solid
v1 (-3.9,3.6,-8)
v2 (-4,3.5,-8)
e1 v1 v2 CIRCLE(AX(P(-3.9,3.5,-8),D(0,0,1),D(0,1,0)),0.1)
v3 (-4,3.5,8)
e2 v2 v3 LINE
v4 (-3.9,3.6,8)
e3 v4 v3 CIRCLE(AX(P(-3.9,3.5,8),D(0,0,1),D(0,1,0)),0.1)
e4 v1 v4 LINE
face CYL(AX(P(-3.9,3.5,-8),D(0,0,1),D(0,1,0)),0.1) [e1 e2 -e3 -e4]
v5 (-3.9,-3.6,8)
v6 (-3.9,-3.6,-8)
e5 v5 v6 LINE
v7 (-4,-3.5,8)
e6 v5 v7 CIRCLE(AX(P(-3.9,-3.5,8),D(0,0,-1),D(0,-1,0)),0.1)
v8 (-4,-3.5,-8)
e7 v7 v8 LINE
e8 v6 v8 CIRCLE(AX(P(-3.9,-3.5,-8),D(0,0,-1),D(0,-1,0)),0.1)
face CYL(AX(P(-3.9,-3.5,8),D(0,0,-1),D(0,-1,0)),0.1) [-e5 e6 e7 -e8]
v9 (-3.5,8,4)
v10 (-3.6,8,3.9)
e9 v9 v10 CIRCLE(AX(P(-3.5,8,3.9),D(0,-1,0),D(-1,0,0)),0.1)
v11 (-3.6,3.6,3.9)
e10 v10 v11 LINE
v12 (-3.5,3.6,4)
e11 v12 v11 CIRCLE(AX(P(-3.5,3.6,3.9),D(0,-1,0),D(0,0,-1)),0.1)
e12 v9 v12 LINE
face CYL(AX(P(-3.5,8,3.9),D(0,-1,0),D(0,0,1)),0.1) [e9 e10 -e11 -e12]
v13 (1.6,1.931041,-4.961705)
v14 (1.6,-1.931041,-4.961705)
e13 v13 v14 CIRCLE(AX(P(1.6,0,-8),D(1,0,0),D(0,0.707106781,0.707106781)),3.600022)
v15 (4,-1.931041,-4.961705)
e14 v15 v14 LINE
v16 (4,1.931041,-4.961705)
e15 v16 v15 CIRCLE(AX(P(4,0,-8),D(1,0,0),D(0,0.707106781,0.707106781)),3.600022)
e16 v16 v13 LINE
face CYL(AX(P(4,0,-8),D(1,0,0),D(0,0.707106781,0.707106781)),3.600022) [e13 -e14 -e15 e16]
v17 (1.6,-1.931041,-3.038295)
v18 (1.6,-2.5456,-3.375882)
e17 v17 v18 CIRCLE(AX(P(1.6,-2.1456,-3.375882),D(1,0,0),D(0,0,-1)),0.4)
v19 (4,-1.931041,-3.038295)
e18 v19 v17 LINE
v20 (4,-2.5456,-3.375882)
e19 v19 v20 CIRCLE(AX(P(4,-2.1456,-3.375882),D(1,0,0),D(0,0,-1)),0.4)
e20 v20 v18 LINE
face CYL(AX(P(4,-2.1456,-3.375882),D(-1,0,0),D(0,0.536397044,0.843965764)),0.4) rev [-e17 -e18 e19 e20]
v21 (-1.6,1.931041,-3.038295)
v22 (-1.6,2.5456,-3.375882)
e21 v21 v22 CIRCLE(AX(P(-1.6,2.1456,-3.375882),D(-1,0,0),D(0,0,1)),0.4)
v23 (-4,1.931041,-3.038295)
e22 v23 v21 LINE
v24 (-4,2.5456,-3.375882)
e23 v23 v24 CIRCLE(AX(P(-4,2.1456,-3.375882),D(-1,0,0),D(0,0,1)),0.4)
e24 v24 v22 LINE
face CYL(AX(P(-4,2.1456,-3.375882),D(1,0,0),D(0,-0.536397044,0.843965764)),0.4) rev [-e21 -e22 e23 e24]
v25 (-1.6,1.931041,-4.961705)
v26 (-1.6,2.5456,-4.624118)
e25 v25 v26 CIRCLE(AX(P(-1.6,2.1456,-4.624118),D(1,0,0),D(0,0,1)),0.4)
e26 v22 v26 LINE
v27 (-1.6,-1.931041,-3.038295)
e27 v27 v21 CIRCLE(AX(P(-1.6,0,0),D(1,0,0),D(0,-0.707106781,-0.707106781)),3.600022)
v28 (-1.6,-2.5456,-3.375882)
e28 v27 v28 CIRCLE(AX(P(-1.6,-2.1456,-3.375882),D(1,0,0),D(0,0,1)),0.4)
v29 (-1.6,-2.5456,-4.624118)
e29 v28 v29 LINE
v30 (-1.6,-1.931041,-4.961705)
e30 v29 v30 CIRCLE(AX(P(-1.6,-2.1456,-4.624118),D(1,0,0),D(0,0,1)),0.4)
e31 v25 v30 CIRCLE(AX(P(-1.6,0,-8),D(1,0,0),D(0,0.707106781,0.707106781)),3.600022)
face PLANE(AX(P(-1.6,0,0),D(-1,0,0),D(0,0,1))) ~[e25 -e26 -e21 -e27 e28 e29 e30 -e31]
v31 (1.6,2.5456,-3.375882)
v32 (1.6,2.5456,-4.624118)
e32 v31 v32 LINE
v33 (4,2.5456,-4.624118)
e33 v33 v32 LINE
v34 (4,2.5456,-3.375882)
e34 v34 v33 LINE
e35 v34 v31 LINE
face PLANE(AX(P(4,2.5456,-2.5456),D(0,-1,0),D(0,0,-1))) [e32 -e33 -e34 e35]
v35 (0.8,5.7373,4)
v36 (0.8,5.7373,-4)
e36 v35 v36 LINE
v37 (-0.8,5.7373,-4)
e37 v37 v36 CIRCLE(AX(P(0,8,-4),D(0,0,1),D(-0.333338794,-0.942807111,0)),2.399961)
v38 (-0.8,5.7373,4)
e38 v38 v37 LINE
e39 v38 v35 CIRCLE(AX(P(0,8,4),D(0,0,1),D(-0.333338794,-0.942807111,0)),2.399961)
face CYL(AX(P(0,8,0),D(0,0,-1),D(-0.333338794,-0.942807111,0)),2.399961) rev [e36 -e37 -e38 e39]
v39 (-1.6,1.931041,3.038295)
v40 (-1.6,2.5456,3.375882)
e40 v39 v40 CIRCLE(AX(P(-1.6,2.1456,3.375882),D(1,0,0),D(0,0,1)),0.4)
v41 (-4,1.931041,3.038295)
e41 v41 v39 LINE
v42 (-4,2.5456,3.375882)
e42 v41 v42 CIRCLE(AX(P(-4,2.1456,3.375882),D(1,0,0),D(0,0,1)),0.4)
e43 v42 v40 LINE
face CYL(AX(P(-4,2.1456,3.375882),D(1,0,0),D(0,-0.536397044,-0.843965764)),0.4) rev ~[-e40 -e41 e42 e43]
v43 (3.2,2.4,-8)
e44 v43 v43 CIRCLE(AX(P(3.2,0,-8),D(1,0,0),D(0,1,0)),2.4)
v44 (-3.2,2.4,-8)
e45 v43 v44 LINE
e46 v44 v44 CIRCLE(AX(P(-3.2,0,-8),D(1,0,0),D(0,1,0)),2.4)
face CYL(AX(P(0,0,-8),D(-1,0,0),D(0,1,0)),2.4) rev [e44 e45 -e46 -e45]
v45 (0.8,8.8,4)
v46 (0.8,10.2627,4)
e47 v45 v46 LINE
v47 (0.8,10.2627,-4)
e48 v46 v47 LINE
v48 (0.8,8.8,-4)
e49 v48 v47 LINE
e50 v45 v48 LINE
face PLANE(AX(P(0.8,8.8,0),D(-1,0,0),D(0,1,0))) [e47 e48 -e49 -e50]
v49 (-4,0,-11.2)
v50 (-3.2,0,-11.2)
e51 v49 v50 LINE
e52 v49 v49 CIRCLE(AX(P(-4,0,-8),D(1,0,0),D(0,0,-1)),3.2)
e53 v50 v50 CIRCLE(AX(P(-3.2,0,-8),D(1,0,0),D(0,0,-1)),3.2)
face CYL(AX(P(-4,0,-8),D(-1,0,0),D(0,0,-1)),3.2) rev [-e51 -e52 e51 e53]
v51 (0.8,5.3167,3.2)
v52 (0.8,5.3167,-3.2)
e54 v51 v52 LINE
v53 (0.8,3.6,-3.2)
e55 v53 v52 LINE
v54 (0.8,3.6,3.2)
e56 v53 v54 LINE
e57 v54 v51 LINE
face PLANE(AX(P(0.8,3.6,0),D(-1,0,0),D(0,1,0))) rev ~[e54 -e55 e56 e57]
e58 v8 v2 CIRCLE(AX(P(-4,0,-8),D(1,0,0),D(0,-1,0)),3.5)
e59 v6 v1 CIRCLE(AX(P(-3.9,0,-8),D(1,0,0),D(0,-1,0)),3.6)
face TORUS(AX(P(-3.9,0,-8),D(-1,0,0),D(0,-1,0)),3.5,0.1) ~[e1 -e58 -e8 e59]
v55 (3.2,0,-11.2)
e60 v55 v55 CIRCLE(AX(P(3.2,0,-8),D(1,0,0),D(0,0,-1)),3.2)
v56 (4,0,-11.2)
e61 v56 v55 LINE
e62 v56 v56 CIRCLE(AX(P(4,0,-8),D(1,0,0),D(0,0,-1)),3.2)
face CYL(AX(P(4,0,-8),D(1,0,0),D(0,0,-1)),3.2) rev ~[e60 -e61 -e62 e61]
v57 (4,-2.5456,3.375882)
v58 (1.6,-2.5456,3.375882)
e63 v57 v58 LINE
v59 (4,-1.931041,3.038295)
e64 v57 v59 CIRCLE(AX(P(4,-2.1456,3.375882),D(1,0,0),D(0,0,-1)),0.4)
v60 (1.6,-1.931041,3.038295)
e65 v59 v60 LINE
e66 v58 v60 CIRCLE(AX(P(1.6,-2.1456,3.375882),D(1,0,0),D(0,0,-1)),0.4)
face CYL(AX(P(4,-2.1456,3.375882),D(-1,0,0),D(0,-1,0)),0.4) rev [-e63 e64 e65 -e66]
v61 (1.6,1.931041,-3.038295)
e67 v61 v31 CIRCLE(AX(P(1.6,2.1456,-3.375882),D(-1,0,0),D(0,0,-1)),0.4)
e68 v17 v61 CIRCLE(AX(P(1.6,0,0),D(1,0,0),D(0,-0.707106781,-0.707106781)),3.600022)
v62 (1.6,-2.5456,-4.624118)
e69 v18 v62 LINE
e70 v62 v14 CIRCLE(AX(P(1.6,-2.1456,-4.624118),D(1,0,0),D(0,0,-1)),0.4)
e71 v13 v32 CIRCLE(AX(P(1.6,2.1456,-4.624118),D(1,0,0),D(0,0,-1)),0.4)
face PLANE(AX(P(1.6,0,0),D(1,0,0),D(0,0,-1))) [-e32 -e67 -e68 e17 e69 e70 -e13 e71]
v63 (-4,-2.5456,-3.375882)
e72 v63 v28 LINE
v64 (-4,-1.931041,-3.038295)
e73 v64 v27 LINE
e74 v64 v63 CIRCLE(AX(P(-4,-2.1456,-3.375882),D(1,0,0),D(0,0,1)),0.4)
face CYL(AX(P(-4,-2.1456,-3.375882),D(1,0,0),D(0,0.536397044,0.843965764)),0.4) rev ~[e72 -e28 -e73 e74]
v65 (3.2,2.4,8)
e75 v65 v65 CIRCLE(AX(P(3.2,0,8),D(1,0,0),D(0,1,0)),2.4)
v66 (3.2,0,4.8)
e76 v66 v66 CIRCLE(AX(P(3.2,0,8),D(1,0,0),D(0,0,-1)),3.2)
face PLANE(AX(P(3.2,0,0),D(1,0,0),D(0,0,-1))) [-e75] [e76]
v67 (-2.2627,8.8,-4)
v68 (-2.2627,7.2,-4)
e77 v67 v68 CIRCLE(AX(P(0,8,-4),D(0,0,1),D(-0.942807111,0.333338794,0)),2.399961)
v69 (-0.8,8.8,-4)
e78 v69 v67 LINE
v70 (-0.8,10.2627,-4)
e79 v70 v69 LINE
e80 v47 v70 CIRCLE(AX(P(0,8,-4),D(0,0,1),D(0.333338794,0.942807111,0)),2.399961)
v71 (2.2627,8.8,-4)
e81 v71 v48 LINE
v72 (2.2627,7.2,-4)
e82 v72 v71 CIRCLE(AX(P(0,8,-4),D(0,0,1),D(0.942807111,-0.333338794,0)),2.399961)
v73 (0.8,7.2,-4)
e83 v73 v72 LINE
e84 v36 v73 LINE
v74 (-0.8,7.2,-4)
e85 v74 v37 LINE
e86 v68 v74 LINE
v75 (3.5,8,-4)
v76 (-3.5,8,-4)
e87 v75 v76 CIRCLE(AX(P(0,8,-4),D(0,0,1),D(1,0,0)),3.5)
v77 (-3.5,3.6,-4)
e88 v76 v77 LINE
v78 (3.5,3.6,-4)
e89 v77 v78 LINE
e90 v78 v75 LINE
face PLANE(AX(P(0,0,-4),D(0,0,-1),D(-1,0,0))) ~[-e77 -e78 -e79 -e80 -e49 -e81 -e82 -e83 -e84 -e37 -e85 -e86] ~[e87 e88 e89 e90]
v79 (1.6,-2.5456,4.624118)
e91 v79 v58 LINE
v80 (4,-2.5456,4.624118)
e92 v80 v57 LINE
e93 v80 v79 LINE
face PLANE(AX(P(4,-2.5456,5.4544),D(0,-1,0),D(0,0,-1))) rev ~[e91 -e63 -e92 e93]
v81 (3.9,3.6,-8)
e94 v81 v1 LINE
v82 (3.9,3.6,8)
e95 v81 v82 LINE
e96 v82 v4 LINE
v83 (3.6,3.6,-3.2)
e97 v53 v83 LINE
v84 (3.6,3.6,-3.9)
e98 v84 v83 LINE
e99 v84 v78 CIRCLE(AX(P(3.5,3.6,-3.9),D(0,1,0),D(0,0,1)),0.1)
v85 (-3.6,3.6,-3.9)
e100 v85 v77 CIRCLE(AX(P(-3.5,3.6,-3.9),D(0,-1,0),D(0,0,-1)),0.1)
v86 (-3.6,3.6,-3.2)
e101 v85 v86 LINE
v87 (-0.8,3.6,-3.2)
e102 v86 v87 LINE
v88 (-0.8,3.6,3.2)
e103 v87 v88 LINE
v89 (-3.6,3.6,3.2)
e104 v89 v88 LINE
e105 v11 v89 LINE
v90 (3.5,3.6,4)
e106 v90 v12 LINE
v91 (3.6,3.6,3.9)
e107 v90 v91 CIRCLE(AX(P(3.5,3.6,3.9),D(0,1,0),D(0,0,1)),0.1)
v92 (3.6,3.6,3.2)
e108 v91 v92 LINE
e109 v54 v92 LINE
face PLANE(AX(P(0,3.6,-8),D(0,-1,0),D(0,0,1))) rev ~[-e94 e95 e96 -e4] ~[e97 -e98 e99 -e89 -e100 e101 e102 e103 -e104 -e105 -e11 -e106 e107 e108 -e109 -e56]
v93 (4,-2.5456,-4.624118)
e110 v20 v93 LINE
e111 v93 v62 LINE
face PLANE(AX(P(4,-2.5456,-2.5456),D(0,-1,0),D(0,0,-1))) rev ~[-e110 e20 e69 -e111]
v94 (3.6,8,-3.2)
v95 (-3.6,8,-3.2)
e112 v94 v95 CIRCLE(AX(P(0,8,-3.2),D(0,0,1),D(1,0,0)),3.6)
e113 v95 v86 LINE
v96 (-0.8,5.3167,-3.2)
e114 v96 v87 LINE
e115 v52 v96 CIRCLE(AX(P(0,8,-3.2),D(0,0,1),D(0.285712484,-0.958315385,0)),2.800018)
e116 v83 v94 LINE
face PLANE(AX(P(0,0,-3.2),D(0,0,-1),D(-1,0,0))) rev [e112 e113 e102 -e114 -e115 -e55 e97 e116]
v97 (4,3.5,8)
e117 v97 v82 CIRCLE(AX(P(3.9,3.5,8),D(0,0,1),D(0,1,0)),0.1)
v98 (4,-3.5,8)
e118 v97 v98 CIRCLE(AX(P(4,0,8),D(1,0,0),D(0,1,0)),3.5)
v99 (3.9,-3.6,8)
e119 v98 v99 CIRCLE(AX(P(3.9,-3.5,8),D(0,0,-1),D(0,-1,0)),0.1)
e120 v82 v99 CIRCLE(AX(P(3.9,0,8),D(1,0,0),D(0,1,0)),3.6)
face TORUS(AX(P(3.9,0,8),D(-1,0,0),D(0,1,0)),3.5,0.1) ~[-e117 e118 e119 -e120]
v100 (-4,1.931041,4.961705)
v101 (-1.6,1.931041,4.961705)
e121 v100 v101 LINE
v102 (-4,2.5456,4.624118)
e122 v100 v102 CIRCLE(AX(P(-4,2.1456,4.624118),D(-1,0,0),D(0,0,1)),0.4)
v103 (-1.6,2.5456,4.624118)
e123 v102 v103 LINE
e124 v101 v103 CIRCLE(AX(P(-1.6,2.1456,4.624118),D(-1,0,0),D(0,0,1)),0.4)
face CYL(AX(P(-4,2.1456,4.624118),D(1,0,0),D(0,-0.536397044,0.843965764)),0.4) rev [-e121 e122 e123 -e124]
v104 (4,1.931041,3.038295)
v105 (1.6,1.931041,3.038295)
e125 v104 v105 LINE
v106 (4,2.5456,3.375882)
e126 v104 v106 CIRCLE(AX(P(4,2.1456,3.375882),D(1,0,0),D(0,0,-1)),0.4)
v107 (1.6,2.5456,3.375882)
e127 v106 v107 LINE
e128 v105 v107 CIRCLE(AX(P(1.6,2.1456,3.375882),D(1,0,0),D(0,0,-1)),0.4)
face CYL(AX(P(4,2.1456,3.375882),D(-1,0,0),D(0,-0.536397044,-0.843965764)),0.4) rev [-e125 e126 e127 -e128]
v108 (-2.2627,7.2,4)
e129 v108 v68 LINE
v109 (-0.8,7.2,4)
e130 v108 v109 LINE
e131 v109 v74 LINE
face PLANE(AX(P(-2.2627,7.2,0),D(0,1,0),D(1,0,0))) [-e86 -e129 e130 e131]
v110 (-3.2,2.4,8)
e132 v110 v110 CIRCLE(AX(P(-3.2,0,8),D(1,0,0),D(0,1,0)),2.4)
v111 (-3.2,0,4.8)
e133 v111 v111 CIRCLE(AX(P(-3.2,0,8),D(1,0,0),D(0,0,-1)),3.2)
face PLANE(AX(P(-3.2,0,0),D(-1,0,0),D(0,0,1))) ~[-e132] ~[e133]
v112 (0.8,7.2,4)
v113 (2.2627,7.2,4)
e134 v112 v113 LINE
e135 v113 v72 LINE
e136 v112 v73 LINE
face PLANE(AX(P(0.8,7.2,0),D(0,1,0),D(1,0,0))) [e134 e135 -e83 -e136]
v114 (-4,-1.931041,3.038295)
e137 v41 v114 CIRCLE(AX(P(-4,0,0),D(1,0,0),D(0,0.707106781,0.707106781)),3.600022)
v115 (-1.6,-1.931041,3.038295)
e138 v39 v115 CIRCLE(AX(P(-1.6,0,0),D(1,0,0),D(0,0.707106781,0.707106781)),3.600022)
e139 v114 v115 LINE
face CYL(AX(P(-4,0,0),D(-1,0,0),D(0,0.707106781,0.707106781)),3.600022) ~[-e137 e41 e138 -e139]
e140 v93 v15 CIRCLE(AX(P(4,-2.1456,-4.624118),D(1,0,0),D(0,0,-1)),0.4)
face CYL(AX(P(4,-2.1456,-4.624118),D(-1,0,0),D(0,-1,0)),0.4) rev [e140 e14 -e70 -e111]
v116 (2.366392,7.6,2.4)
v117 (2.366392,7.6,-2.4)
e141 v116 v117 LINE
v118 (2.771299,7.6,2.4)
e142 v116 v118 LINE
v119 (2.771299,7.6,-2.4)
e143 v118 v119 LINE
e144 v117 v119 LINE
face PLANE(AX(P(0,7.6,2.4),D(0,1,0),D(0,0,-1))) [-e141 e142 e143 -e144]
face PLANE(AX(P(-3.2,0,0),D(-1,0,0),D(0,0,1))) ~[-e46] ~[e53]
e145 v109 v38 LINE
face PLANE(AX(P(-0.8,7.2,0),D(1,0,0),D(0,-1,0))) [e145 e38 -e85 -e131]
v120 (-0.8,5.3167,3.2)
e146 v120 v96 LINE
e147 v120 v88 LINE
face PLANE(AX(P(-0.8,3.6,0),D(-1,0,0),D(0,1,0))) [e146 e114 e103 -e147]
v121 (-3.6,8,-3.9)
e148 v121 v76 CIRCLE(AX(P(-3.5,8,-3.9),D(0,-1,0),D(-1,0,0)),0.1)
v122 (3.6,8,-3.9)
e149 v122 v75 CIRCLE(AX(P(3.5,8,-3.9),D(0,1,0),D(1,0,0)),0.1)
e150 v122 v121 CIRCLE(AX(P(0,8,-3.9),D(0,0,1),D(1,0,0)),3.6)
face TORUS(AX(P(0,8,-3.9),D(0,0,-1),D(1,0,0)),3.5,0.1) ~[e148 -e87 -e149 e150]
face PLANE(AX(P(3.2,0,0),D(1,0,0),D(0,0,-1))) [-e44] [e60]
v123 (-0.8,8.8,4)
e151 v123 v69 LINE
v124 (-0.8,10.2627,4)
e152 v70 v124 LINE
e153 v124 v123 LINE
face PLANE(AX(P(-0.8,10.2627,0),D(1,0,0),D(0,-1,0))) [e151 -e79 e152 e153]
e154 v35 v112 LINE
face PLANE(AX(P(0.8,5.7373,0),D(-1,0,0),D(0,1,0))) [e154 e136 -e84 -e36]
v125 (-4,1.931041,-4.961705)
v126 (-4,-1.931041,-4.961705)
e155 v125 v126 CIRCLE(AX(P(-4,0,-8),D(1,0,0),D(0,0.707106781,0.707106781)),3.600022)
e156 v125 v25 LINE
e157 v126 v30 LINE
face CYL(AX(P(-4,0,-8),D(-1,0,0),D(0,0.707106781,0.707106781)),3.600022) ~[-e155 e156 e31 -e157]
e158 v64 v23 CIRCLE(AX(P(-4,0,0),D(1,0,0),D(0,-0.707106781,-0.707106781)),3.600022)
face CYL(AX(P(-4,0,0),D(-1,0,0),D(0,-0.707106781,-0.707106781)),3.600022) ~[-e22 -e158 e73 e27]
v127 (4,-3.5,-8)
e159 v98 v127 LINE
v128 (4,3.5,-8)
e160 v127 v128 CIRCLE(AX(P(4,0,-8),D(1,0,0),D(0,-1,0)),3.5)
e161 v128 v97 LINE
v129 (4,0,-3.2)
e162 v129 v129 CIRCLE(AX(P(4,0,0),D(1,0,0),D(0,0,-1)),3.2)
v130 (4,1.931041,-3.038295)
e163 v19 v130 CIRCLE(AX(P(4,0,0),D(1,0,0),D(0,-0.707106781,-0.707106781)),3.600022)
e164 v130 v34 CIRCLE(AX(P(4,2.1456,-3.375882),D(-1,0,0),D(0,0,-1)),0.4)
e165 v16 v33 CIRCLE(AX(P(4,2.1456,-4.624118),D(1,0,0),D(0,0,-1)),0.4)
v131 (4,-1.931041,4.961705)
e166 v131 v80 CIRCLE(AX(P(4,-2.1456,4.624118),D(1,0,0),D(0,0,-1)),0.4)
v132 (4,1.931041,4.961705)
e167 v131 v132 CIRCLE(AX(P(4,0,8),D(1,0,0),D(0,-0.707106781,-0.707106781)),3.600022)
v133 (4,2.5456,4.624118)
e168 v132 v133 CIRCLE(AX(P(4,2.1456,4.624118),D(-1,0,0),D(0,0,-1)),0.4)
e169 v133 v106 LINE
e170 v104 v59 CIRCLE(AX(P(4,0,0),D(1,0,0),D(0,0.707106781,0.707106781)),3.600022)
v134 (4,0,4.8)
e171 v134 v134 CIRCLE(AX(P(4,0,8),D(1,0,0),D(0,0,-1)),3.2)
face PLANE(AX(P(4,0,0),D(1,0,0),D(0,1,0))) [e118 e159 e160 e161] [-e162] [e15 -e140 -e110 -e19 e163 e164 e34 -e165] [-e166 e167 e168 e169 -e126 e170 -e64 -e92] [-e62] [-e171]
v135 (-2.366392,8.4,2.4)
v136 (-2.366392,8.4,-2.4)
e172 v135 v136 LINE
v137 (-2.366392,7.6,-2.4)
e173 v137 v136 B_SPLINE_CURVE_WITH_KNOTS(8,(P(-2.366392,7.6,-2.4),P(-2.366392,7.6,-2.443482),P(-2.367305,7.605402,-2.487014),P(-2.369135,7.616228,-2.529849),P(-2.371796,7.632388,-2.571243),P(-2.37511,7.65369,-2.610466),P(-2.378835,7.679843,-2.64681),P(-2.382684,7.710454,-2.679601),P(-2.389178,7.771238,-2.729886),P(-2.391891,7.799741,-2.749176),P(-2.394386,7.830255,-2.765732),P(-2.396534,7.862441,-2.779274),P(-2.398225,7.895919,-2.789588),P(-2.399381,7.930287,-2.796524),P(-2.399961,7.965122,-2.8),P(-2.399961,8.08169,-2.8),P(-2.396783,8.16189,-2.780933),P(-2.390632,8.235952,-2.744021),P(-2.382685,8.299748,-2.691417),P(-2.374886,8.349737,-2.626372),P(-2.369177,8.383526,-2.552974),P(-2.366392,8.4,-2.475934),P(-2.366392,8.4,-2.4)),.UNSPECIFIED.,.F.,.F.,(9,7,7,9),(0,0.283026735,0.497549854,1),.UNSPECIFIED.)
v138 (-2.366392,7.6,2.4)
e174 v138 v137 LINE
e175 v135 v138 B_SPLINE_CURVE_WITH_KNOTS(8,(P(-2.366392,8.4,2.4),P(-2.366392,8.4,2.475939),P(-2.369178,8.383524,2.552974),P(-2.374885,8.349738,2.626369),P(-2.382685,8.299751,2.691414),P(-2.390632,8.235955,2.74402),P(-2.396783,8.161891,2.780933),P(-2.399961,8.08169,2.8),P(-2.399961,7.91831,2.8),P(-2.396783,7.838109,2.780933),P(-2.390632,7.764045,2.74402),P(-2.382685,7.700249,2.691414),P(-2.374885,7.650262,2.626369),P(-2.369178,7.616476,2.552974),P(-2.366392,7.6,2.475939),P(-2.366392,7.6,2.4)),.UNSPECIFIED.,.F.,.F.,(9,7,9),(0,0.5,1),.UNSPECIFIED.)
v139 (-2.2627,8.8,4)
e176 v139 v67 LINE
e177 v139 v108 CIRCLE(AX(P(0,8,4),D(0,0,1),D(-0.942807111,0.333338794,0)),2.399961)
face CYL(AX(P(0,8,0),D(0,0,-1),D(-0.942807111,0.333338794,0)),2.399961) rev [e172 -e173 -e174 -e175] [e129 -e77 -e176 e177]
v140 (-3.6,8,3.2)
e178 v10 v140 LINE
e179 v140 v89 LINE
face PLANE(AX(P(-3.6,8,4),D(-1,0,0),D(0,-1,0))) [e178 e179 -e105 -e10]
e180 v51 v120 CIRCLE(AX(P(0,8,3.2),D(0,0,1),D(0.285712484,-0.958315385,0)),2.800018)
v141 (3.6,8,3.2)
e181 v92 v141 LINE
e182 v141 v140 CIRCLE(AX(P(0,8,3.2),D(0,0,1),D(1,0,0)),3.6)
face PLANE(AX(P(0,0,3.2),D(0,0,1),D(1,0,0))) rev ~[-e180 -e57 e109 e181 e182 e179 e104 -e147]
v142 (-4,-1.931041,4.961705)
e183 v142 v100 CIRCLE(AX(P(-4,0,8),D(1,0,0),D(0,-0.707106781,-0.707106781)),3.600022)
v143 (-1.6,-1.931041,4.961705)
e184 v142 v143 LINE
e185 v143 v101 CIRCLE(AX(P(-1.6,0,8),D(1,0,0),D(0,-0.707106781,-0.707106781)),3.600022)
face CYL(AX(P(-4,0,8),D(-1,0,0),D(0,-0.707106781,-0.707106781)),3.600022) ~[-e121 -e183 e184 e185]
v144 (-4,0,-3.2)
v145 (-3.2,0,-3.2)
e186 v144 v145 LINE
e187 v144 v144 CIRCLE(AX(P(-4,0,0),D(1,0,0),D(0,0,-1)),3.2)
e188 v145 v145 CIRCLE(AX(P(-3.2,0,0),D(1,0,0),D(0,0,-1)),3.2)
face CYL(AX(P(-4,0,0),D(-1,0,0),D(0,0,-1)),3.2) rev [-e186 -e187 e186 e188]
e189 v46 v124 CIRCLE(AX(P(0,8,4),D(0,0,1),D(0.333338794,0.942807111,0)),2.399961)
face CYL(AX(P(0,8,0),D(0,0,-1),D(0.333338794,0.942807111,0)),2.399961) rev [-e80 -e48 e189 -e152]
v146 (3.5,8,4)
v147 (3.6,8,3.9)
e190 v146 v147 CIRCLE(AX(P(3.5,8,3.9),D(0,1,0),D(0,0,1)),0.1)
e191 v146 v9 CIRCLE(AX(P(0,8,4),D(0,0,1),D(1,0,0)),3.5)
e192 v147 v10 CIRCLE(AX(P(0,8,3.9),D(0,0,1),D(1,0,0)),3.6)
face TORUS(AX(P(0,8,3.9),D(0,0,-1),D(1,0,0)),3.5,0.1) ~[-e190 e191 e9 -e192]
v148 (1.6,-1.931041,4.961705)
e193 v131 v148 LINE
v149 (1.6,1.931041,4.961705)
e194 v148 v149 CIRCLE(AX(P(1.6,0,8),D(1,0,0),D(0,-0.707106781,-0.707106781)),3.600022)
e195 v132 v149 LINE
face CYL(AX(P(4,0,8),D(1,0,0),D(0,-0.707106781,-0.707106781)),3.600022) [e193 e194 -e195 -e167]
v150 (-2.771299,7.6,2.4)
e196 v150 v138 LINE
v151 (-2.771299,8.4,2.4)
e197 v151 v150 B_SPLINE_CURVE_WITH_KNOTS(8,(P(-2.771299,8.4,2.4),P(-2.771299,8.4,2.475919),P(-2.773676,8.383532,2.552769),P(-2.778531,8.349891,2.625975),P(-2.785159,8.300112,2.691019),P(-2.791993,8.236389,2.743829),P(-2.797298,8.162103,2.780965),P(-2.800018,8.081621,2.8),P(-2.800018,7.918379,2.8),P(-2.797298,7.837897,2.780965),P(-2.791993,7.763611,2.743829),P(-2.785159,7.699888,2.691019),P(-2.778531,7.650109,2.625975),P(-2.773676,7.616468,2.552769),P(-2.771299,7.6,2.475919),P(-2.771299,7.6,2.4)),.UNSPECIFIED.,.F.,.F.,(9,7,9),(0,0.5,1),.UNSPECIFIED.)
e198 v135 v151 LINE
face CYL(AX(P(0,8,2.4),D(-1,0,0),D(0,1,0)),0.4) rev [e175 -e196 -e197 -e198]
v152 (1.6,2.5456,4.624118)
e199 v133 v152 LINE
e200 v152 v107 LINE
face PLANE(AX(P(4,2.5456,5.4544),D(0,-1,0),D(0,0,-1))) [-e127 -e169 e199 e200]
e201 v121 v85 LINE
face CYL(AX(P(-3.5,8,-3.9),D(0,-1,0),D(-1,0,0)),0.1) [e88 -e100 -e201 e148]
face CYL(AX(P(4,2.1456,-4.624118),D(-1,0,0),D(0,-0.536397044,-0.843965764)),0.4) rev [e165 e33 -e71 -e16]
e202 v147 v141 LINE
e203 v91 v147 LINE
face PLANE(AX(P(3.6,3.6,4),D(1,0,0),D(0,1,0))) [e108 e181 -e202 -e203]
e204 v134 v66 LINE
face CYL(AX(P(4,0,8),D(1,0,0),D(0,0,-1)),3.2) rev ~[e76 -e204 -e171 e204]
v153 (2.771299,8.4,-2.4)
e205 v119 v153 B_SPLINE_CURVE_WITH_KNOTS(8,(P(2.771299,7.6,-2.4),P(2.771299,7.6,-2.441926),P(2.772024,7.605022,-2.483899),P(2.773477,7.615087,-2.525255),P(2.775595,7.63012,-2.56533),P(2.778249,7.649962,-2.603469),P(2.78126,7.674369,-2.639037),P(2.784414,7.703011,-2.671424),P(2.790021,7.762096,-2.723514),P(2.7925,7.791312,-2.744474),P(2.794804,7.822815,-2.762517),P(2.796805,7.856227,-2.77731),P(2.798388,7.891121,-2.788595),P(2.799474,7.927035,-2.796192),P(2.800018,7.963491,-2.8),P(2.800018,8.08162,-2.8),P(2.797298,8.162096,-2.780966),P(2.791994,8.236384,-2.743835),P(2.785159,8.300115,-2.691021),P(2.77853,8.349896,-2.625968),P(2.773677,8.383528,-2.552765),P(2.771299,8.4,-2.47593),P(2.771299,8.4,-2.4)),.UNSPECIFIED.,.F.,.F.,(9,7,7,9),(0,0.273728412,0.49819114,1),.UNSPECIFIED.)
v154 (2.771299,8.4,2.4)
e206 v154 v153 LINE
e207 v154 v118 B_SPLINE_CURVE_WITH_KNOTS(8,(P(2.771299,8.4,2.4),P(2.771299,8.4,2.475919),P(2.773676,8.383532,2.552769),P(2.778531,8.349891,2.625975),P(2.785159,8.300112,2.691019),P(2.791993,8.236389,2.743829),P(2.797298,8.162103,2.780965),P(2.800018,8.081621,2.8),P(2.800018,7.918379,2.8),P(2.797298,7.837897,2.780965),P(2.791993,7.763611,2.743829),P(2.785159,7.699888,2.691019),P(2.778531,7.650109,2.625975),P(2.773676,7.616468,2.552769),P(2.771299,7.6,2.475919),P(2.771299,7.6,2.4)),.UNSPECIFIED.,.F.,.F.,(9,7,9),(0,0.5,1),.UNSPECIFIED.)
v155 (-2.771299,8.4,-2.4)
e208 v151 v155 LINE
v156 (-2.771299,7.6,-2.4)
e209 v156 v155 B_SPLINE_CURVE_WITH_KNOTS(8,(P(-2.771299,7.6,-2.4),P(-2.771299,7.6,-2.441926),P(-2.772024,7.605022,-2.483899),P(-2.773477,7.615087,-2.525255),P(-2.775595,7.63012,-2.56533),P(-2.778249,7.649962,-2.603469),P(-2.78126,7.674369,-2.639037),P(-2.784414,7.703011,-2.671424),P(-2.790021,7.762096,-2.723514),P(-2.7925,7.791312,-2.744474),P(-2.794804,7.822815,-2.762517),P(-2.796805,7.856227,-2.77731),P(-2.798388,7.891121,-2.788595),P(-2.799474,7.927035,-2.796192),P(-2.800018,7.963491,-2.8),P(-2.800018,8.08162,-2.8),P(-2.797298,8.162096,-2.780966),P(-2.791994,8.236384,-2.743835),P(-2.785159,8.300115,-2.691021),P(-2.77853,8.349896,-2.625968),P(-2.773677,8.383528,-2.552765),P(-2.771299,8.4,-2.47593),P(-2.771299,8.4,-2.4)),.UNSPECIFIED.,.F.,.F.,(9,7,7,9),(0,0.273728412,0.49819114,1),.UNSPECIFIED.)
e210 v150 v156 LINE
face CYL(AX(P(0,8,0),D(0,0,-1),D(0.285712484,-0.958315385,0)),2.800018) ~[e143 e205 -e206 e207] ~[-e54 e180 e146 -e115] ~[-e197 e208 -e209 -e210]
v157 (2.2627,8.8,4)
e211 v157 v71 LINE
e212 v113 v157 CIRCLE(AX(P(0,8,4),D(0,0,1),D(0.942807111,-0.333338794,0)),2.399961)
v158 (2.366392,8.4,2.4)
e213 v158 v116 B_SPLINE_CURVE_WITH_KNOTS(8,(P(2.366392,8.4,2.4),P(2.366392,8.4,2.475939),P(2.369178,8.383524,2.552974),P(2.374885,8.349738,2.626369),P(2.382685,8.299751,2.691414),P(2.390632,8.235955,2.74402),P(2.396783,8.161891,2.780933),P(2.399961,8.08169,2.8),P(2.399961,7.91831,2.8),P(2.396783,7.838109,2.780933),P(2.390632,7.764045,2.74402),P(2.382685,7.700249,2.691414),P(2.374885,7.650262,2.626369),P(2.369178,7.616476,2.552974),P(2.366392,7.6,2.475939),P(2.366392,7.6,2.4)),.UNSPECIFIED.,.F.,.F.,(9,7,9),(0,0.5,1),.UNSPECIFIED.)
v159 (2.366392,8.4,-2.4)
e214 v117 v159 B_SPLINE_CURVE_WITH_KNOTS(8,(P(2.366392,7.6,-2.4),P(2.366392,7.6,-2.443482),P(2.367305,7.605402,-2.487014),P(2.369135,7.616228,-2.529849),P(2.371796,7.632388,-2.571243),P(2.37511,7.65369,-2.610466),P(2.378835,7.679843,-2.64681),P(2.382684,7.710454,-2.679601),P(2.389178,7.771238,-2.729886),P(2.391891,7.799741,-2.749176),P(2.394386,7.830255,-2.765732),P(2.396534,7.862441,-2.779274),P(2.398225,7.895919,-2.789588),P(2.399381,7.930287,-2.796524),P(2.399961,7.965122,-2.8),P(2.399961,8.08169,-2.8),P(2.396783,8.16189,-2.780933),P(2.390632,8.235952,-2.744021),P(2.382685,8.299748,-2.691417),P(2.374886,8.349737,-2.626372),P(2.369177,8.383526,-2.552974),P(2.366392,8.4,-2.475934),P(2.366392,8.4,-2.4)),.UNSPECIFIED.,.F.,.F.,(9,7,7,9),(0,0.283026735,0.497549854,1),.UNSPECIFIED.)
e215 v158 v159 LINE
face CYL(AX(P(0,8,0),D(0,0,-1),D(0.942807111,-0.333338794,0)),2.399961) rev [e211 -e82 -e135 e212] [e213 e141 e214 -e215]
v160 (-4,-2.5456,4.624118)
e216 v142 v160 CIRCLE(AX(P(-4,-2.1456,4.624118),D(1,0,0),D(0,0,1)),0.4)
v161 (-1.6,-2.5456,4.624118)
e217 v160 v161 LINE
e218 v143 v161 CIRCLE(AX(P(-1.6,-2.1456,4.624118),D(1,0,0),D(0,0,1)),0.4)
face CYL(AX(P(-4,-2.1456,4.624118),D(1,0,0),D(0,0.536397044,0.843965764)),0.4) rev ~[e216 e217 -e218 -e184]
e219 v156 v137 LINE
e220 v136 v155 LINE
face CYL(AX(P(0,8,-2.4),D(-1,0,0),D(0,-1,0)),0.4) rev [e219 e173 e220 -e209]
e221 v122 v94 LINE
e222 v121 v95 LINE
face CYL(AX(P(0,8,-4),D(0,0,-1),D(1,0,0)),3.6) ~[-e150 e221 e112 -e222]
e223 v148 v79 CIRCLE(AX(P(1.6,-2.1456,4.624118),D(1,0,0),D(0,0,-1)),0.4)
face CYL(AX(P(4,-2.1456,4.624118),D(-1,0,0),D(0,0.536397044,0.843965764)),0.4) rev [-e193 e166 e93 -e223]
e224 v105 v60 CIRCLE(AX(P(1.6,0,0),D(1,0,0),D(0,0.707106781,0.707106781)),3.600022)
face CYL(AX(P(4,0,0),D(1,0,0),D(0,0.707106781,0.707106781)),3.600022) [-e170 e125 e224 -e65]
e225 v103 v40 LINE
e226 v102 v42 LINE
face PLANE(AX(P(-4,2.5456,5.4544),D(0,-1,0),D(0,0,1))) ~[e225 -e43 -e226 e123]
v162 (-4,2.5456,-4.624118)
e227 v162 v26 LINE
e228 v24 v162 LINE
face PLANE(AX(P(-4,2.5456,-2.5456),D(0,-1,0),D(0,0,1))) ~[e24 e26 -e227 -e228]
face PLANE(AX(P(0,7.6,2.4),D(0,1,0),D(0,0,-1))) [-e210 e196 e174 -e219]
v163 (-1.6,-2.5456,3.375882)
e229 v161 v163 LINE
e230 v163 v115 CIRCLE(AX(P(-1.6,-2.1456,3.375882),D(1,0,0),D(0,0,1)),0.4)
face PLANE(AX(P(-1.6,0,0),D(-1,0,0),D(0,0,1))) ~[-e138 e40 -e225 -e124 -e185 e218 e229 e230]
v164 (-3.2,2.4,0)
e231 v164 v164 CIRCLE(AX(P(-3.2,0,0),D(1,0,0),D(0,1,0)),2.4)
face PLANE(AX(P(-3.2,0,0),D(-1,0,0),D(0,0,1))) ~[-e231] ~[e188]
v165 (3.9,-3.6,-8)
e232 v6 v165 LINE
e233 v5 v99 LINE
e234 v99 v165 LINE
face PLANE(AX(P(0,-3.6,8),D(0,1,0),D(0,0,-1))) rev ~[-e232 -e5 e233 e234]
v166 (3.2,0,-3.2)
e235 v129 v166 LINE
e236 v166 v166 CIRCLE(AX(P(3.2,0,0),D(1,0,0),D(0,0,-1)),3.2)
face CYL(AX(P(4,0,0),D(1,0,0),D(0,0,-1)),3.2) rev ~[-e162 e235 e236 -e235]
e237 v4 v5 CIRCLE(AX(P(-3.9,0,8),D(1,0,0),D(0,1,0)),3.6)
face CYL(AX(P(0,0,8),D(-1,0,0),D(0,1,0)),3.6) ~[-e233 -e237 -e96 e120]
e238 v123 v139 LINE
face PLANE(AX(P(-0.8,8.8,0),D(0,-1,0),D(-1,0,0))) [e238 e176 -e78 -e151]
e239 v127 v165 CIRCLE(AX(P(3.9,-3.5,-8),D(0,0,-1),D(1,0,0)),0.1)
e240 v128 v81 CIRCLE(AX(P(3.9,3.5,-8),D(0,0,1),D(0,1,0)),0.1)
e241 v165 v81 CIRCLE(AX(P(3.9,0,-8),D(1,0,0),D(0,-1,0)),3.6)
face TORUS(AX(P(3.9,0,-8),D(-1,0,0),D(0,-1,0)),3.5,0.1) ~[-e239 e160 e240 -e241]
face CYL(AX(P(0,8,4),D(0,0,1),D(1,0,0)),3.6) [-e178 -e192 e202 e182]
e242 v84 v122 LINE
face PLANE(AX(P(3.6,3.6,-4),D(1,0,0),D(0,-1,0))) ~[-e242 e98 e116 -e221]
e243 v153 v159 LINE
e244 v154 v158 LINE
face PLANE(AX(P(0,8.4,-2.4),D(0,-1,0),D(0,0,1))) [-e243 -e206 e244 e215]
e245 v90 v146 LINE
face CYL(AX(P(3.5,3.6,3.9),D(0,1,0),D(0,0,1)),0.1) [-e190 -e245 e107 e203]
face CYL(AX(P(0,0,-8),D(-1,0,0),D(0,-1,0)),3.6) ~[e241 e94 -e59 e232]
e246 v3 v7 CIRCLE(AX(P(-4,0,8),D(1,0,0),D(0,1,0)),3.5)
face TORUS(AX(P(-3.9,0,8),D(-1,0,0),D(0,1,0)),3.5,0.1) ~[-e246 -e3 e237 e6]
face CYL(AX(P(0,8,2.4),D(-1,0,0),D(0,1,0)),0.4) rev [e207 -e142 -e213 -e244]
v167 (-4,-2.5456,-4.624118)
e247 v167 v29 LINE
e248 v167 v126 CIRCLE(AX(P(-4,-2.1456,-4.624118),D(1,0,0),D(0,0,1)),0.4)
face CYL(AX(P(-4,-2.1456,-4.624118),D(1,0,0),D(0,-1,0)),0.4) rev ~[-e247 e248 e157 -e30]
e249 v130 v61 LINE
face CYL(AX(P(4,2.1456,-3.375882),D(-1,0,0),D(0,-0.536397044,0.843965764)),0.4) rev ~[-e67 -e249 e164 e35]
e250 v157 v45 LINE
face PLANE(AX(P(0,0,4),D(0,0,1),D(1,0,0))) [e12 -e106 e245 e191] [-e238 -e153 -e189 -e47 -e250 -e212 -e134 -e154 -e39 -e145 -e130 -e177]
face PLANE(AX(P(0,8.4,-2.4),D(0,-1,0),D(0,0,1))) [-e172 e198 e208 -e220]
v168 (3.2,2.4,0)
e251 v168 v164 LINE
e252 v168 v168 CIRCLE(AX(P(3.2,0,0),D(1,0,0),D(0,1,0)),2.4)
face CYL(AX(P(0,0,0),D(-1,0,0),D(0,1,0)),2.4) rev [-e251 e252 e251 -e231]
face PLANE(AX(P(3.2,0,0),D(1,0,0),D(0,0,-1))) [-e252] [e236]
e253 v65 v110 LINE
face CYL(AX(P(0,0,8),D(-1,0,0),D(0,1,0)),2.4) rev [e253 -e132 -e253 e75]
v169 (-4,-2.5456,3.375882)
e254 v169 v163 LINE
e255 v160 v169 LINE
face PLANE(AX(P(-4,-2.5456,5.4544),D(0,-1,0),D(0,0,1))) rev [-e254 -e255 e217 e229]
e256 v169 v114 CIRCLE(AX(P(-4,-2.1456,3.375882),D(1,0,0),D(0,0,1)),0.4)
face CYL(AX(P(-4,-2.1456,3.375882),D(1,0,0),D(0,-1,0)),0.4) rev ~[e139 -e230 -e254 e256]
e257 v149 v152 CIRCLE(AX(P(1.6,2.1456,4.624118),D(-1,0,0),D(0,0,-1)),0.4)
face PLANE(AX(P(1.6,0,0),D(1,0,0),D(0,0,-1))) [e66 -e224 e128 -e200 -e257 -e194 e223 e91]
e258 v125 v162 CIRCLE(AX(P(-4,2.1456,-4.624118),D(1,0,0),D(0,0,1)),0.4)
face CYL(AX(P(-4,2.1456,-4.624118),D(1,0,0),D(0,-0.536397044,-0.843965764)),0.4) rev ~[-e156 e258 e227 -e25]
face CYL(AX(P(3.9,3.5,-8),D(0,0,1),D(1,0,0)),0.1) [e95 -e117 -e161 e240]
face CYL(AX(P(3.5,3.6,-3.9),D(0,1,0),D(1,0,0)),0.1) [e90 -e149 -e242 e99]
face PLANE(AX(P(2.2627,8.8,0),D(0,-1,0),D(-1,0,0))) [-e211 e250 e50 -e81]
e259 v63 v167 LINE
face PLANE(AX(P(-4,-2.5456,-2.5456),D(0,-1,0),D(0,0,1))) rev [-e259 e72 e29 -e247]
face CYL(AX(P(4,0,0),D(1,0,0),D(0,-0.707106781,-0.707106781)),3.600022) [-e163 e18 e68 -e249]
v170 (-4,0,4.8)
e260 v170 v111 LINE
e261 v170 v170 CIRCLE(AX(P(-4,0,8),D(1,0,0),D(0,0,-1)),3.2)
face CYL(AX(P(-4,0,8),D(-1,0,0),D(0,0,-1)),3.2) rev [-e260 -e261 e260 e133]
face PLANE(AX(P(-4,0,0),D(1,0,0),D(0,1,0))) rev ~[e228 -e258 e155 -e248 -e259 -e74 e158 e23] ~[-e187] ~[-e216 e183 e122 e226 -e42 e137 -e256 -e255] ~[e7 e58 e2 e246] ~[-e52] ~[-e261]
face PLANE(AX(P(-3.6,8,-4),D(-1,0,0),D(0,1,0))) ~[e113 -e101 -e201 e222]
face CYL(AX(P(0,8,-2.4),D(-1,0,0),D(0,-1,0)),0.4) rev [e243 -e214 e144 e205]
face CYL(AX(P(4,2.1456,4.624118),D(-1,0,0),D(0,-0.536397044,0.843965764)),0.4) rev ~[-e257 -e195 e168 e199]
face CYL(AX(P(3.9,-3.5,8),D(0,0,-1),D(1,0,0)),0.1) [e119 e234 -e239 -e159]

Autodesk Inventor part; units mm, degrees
ref_plane "YZ Plane" through (0, 0, 0) normal (1, 0, 0) x (0, 1, 0)
ref_plane "XZ Plane" through (0, 0, 0) normal (0, 1, 0) x (-1, 0, 0)
ref_plane "XY Plane" through (0, 0, 0) normal (0, 0, 1) x (1, 0, 0)
sketch "Sketch2" plane through (0, 0, 0) normal (1, 0, 0) x (0, 1, 0)
  circle A0 centre (0, 8) radius 2.4
  circle A1 centre (0, 0) radius 2.4
  line L0 (0, 8) -> (0, 0) construction
  line L1 (0, 0) -> (0, -8) construction
  circle A2 centre (0, -8) radius 2.4
  line L2 (-3.6, 8) -> (-3.6, -8)
  arc A3 (-3.6, -8) -> (3.6, -8) centre (0, -8) ccw
  line L3 (3.6, -8) -> (3.6, 8)
  arc A4 (3.6, 8) -> (-3.6, 8) centre (0, 8) ccw
  dimension "d0" = 4.8
  dimension "d2" = 8
  dimension "d43" = 7.2
extrude "Extrusion1" add sketch "Sketch2" along normal mid plane 8
sketch "Sketch8" plane through (4, 0, 0) normal (1, 0, 0) x (0, 0, -1)
  circle A0 centre (8, 0) radius 2.4 projected
  circle A1 centre (0, 0) radius 2.4 projected
  circle A2 centre (-8, 0) radius 2.4 projected
  arc A3 (8, -3.6) -> (8, 3.6) centre (8, 0) ccw projected
  arc A4 (-8, 3.6) -> (-8, -3.6) centre (-8, 0) ccw projected
  circle A5 centre (-8, 0) radius 3.2
  circle A6 centre (0, 0) radius 3.2
  circle A7 centre (8, 0) radius 3.2
  line L0 (8, 3.6) -> (-8, 3.6) projected
  line L1 (-5.4544, 2.5456) -> (-2.5456, 2.5456)
  line L2 (-5.4544, -2.5456) -> (-2.5456, -2.5456)
  line L3 (2.5456, 2.5456) -> (5.4544, 2.5456)
  line L4 (2.5456, -2.5456) -> (5.4544, -2.5456)
  arc A8 (-5.4544, -2.5456) -> (-5.4544, 2.5456) centre (-8, 0) ccw
  arc A9 (-2.5456, 2.5456) -> (-2.5456, -2.5456) centre (0, 0) ccw
  arc A10 (2.5456, -2.5456) -> (2.5456, 2.5456) centre (0, 0) ccw
  arc A11 (5.4544, 2.5456) -> (5.4544, -2.5456) centre (8, 0) ccw
  line L5 (-8, 0) -> (-5.4544, 2.5456) construction
  dimension "d44" = 6.4
  dimension "d48" = 45
extrude "Extrusion5" cut sketch "Sketch8" against normal blind 0.8 contours A5 | A6 | A7
extrude "Extrusion6" cut sketch "Sketch8" against normal blind 2.4 contours L1 A9 L2 A8 | L3 A11 L4 A10
mirror "Mirror2" about plane through (0, 0, 0) normal (1, 0, 0) of "Extrusion5", "Extrusion6"
sketch "Sketch4" plane through (0, 0, 0) normal (0, 0, 1) x (1, 0, 0)
  line L0 (-0.8, 3.6) -> (-0.8, 5.3167)
  line L1 (0.8, 3.6) -> (0.8, 5.3167)
  arc A0 (0.8, 5.3167) -> (-0.8, 5.3167) centre (0, 8) ccw
  circle A1 centre (0, 8) radius 2.4 construction
  line L2 (-0.8, 10.2627) -> (-0.8, 8.8)
  line L3 (-0.8, 8.8) -> (-2.2627, 8.8)
  line L4 (-2.2627, 7.2) -> (-0.8, 7.2)
  line L5 (-0.8, 7.2) -> (-0.8, 5.7373)
  line L6 (0.8, 5.7373) -> (0.8, 7.2)
  line L7 (0.8, 7.2) -> (2.2627, 7.2)
  line L8 (2.2627, 8.8) -> (0.8, 8.8)
  line L9 (0.8, 8.8) -> (0.8, 10.2627)
  arc A2 (0.8, 10.2627) -> (-0.8, 10.2627) centre (0, 8) ccw
  arc A3 (-2.2627, 8.8) -> (-2.2627, 7.2) centre (0, 8) ccw
  arc A4 (-0.8, 5.7373) -> (0.8, 5.7373) centre (0, 8) ccw
  arc A5 (2.2627, 7.2) -> (2.2627, 8.8) centre (0, 8) ccw
  line L10 (-4, 3.6) -> (4, 3.6) projected
  line L11 (-0.8, 3.6) -> (0.8, 3.6)
  point P0 (0, 0)
  dimension "d18" = 4.8
  dimension "d12" = 5.6
  dimension "d14" = 1.6
  dimension "d20" = 1.6
  dimension "d40" = 8
extrude "Extrusion2" add sketch "Sketch4" along normal mid plane 8
sketch "Sketch5" plane through (0, 0, 0) normal (1, 0, 0) x (0, 1, 0)
  line L0 (7.2, 4) -> (8.8, 4) projected
  line L1 (8.8, -4) -> (8.8, 4) projected
  line L2 (7.6, 2.4) -> (7.6, -2.4)
  arc A0 (7.6, -2.4) -> (8.4, -2.4) centre (8, -2.4) ccw
  line L3 (8.4, -2.4) -> (8.4, 2.4)
  arc A1 (8.4, 2.4) -> (7.6, 2.4) centre (8, 2.4) ccw
  point P0 (0, 0)
  point P1 (8, 4)
  point P2 (8.4, 0)
  point P3 (8.8, 0)
  dimension "d23" = 0.8
  dimension "d24" = 5.6
extrude "Extrusion3" cut sketch "Sketch5" along normal through all both and the other way through all
sketch "Sketch6" plane through (0, 0, 4) normal (0, 0, 1) x (1, 0, 0)
  line L0 (3.6, 3.6) -> (3.6, 8)
  arc A0 (3.6, 8) -> (-3.6, 8) centre (0, 8) ccw
  line L1 (-3.6, 8) -> (-3.6, 3.6)
  arc A1 (0.8, 5.3167) -> (-0.8, 5.3167) centre (0, 8) ccw projected
  line L2 (-0.8, 5.3167) -> (-0.8, 3.6) projected
  line L3 (-0.8, 3.6) -> (-0.8, 5.3167)
  line L4 (0.8, 3.6) -> (0.8, 5.3167)
  arc A2 (0.8, 5.3167) -> (-0.8, 5.3167) centre (0, 8) ccw
  line L5 (0.8, 3.6) -> (0.8, 5.3167) projected
  line L6 (-3.6, 3.6) -> (-0.8, 3.6)
  line L7 (0.8, 3.6) -> (3.6, 3.6)
  dimension "d41" = 7.2
extrude "Extrusion4" add sketch "Sketch6" against normal blind 0.8
mirror "Mirror1" about plane through (0, 0, 0) normal (0, 0, 1) of "Extrusion4"
fillet "Fillet1" radius 0.1 14 edges at (-3.6, 5.8, 4) (3.6, 5.8, 4) (0, 11.6, 4) (-3.6, 5.8, -4) (3.6, 5.8, -4) (0, 11.6, -4) (-4, 0, -11.6) (-4, -3.6, 0) (-4, 0, 11.6) (-4, 3.6, 0) (4, 0, 11.6) (4, -3.6, 0) (4, 0, -11.6) (4, 3.6, 0)
fillet "Fillet1" radius 0.4 16 edges at (2.8, 2.5456, 5.4544) (2.8, 2.5456, 2.5456) (2.8, 2.5456, -2.5456) (2.8, 2.5456, -5.4544) (2.8, -2.5456, 5.4544) (2.8, -2.5456, 2.5456) (2.8, -2.5456, -2.5456) (2.8, -2.5456, -5.4544) (-2.8, 2.5456, 2.5456) (-2.8, 2.5456, 5.4544) (-2.8, -2.5456, 5.4544) (-2.8, -2.5456, 2.5456) (-2.8, 2.5456, -2.5456) (-2.8, 2.5456, -5.4544) (-2.8, -2.5456, -2.5456) (-2.8, -2.5456, -5.4544)
equation "\"d0\" = tpd"
equation "\"d2\" = lu"
equation "\"d43\" = tlad"
equation "\"d3\" = lu"
equation "\"d44\" = tsd"
equation "\"d45\" = tsl"
equation "\"d18\" = kd"
equation "\"d14\" = wall"
equation "\"d20\" = axlet"
equation "\"d40\" = lu"
equation "\"d21\" = lu"
equation "\"d23\" = tpnw"
equation "\"d41\" = tlad"
equation "\"d29\" = tsl"
equation "\"d39\" = lf"
equation "\"d51\" = tf"
equation "\"tpd\" = 4.8"
equation "\"lu\" = 8"
equation "\"tlad\" = 7.2"
equation "\"tsd\" = 6.4"
equation "\"tsl\" = 0.8"
equation "\"kd\" = 4.8"
equation "\"wall\" = 1.6"
equation "\"axlet\" = 1.6"
equation "\"tpnw\" = 0.8"
equation "\"lf\" = 0.1"
equation "\"tf\" = 0.4"
properties part number "63869-Black" material "ABS Plastic"
